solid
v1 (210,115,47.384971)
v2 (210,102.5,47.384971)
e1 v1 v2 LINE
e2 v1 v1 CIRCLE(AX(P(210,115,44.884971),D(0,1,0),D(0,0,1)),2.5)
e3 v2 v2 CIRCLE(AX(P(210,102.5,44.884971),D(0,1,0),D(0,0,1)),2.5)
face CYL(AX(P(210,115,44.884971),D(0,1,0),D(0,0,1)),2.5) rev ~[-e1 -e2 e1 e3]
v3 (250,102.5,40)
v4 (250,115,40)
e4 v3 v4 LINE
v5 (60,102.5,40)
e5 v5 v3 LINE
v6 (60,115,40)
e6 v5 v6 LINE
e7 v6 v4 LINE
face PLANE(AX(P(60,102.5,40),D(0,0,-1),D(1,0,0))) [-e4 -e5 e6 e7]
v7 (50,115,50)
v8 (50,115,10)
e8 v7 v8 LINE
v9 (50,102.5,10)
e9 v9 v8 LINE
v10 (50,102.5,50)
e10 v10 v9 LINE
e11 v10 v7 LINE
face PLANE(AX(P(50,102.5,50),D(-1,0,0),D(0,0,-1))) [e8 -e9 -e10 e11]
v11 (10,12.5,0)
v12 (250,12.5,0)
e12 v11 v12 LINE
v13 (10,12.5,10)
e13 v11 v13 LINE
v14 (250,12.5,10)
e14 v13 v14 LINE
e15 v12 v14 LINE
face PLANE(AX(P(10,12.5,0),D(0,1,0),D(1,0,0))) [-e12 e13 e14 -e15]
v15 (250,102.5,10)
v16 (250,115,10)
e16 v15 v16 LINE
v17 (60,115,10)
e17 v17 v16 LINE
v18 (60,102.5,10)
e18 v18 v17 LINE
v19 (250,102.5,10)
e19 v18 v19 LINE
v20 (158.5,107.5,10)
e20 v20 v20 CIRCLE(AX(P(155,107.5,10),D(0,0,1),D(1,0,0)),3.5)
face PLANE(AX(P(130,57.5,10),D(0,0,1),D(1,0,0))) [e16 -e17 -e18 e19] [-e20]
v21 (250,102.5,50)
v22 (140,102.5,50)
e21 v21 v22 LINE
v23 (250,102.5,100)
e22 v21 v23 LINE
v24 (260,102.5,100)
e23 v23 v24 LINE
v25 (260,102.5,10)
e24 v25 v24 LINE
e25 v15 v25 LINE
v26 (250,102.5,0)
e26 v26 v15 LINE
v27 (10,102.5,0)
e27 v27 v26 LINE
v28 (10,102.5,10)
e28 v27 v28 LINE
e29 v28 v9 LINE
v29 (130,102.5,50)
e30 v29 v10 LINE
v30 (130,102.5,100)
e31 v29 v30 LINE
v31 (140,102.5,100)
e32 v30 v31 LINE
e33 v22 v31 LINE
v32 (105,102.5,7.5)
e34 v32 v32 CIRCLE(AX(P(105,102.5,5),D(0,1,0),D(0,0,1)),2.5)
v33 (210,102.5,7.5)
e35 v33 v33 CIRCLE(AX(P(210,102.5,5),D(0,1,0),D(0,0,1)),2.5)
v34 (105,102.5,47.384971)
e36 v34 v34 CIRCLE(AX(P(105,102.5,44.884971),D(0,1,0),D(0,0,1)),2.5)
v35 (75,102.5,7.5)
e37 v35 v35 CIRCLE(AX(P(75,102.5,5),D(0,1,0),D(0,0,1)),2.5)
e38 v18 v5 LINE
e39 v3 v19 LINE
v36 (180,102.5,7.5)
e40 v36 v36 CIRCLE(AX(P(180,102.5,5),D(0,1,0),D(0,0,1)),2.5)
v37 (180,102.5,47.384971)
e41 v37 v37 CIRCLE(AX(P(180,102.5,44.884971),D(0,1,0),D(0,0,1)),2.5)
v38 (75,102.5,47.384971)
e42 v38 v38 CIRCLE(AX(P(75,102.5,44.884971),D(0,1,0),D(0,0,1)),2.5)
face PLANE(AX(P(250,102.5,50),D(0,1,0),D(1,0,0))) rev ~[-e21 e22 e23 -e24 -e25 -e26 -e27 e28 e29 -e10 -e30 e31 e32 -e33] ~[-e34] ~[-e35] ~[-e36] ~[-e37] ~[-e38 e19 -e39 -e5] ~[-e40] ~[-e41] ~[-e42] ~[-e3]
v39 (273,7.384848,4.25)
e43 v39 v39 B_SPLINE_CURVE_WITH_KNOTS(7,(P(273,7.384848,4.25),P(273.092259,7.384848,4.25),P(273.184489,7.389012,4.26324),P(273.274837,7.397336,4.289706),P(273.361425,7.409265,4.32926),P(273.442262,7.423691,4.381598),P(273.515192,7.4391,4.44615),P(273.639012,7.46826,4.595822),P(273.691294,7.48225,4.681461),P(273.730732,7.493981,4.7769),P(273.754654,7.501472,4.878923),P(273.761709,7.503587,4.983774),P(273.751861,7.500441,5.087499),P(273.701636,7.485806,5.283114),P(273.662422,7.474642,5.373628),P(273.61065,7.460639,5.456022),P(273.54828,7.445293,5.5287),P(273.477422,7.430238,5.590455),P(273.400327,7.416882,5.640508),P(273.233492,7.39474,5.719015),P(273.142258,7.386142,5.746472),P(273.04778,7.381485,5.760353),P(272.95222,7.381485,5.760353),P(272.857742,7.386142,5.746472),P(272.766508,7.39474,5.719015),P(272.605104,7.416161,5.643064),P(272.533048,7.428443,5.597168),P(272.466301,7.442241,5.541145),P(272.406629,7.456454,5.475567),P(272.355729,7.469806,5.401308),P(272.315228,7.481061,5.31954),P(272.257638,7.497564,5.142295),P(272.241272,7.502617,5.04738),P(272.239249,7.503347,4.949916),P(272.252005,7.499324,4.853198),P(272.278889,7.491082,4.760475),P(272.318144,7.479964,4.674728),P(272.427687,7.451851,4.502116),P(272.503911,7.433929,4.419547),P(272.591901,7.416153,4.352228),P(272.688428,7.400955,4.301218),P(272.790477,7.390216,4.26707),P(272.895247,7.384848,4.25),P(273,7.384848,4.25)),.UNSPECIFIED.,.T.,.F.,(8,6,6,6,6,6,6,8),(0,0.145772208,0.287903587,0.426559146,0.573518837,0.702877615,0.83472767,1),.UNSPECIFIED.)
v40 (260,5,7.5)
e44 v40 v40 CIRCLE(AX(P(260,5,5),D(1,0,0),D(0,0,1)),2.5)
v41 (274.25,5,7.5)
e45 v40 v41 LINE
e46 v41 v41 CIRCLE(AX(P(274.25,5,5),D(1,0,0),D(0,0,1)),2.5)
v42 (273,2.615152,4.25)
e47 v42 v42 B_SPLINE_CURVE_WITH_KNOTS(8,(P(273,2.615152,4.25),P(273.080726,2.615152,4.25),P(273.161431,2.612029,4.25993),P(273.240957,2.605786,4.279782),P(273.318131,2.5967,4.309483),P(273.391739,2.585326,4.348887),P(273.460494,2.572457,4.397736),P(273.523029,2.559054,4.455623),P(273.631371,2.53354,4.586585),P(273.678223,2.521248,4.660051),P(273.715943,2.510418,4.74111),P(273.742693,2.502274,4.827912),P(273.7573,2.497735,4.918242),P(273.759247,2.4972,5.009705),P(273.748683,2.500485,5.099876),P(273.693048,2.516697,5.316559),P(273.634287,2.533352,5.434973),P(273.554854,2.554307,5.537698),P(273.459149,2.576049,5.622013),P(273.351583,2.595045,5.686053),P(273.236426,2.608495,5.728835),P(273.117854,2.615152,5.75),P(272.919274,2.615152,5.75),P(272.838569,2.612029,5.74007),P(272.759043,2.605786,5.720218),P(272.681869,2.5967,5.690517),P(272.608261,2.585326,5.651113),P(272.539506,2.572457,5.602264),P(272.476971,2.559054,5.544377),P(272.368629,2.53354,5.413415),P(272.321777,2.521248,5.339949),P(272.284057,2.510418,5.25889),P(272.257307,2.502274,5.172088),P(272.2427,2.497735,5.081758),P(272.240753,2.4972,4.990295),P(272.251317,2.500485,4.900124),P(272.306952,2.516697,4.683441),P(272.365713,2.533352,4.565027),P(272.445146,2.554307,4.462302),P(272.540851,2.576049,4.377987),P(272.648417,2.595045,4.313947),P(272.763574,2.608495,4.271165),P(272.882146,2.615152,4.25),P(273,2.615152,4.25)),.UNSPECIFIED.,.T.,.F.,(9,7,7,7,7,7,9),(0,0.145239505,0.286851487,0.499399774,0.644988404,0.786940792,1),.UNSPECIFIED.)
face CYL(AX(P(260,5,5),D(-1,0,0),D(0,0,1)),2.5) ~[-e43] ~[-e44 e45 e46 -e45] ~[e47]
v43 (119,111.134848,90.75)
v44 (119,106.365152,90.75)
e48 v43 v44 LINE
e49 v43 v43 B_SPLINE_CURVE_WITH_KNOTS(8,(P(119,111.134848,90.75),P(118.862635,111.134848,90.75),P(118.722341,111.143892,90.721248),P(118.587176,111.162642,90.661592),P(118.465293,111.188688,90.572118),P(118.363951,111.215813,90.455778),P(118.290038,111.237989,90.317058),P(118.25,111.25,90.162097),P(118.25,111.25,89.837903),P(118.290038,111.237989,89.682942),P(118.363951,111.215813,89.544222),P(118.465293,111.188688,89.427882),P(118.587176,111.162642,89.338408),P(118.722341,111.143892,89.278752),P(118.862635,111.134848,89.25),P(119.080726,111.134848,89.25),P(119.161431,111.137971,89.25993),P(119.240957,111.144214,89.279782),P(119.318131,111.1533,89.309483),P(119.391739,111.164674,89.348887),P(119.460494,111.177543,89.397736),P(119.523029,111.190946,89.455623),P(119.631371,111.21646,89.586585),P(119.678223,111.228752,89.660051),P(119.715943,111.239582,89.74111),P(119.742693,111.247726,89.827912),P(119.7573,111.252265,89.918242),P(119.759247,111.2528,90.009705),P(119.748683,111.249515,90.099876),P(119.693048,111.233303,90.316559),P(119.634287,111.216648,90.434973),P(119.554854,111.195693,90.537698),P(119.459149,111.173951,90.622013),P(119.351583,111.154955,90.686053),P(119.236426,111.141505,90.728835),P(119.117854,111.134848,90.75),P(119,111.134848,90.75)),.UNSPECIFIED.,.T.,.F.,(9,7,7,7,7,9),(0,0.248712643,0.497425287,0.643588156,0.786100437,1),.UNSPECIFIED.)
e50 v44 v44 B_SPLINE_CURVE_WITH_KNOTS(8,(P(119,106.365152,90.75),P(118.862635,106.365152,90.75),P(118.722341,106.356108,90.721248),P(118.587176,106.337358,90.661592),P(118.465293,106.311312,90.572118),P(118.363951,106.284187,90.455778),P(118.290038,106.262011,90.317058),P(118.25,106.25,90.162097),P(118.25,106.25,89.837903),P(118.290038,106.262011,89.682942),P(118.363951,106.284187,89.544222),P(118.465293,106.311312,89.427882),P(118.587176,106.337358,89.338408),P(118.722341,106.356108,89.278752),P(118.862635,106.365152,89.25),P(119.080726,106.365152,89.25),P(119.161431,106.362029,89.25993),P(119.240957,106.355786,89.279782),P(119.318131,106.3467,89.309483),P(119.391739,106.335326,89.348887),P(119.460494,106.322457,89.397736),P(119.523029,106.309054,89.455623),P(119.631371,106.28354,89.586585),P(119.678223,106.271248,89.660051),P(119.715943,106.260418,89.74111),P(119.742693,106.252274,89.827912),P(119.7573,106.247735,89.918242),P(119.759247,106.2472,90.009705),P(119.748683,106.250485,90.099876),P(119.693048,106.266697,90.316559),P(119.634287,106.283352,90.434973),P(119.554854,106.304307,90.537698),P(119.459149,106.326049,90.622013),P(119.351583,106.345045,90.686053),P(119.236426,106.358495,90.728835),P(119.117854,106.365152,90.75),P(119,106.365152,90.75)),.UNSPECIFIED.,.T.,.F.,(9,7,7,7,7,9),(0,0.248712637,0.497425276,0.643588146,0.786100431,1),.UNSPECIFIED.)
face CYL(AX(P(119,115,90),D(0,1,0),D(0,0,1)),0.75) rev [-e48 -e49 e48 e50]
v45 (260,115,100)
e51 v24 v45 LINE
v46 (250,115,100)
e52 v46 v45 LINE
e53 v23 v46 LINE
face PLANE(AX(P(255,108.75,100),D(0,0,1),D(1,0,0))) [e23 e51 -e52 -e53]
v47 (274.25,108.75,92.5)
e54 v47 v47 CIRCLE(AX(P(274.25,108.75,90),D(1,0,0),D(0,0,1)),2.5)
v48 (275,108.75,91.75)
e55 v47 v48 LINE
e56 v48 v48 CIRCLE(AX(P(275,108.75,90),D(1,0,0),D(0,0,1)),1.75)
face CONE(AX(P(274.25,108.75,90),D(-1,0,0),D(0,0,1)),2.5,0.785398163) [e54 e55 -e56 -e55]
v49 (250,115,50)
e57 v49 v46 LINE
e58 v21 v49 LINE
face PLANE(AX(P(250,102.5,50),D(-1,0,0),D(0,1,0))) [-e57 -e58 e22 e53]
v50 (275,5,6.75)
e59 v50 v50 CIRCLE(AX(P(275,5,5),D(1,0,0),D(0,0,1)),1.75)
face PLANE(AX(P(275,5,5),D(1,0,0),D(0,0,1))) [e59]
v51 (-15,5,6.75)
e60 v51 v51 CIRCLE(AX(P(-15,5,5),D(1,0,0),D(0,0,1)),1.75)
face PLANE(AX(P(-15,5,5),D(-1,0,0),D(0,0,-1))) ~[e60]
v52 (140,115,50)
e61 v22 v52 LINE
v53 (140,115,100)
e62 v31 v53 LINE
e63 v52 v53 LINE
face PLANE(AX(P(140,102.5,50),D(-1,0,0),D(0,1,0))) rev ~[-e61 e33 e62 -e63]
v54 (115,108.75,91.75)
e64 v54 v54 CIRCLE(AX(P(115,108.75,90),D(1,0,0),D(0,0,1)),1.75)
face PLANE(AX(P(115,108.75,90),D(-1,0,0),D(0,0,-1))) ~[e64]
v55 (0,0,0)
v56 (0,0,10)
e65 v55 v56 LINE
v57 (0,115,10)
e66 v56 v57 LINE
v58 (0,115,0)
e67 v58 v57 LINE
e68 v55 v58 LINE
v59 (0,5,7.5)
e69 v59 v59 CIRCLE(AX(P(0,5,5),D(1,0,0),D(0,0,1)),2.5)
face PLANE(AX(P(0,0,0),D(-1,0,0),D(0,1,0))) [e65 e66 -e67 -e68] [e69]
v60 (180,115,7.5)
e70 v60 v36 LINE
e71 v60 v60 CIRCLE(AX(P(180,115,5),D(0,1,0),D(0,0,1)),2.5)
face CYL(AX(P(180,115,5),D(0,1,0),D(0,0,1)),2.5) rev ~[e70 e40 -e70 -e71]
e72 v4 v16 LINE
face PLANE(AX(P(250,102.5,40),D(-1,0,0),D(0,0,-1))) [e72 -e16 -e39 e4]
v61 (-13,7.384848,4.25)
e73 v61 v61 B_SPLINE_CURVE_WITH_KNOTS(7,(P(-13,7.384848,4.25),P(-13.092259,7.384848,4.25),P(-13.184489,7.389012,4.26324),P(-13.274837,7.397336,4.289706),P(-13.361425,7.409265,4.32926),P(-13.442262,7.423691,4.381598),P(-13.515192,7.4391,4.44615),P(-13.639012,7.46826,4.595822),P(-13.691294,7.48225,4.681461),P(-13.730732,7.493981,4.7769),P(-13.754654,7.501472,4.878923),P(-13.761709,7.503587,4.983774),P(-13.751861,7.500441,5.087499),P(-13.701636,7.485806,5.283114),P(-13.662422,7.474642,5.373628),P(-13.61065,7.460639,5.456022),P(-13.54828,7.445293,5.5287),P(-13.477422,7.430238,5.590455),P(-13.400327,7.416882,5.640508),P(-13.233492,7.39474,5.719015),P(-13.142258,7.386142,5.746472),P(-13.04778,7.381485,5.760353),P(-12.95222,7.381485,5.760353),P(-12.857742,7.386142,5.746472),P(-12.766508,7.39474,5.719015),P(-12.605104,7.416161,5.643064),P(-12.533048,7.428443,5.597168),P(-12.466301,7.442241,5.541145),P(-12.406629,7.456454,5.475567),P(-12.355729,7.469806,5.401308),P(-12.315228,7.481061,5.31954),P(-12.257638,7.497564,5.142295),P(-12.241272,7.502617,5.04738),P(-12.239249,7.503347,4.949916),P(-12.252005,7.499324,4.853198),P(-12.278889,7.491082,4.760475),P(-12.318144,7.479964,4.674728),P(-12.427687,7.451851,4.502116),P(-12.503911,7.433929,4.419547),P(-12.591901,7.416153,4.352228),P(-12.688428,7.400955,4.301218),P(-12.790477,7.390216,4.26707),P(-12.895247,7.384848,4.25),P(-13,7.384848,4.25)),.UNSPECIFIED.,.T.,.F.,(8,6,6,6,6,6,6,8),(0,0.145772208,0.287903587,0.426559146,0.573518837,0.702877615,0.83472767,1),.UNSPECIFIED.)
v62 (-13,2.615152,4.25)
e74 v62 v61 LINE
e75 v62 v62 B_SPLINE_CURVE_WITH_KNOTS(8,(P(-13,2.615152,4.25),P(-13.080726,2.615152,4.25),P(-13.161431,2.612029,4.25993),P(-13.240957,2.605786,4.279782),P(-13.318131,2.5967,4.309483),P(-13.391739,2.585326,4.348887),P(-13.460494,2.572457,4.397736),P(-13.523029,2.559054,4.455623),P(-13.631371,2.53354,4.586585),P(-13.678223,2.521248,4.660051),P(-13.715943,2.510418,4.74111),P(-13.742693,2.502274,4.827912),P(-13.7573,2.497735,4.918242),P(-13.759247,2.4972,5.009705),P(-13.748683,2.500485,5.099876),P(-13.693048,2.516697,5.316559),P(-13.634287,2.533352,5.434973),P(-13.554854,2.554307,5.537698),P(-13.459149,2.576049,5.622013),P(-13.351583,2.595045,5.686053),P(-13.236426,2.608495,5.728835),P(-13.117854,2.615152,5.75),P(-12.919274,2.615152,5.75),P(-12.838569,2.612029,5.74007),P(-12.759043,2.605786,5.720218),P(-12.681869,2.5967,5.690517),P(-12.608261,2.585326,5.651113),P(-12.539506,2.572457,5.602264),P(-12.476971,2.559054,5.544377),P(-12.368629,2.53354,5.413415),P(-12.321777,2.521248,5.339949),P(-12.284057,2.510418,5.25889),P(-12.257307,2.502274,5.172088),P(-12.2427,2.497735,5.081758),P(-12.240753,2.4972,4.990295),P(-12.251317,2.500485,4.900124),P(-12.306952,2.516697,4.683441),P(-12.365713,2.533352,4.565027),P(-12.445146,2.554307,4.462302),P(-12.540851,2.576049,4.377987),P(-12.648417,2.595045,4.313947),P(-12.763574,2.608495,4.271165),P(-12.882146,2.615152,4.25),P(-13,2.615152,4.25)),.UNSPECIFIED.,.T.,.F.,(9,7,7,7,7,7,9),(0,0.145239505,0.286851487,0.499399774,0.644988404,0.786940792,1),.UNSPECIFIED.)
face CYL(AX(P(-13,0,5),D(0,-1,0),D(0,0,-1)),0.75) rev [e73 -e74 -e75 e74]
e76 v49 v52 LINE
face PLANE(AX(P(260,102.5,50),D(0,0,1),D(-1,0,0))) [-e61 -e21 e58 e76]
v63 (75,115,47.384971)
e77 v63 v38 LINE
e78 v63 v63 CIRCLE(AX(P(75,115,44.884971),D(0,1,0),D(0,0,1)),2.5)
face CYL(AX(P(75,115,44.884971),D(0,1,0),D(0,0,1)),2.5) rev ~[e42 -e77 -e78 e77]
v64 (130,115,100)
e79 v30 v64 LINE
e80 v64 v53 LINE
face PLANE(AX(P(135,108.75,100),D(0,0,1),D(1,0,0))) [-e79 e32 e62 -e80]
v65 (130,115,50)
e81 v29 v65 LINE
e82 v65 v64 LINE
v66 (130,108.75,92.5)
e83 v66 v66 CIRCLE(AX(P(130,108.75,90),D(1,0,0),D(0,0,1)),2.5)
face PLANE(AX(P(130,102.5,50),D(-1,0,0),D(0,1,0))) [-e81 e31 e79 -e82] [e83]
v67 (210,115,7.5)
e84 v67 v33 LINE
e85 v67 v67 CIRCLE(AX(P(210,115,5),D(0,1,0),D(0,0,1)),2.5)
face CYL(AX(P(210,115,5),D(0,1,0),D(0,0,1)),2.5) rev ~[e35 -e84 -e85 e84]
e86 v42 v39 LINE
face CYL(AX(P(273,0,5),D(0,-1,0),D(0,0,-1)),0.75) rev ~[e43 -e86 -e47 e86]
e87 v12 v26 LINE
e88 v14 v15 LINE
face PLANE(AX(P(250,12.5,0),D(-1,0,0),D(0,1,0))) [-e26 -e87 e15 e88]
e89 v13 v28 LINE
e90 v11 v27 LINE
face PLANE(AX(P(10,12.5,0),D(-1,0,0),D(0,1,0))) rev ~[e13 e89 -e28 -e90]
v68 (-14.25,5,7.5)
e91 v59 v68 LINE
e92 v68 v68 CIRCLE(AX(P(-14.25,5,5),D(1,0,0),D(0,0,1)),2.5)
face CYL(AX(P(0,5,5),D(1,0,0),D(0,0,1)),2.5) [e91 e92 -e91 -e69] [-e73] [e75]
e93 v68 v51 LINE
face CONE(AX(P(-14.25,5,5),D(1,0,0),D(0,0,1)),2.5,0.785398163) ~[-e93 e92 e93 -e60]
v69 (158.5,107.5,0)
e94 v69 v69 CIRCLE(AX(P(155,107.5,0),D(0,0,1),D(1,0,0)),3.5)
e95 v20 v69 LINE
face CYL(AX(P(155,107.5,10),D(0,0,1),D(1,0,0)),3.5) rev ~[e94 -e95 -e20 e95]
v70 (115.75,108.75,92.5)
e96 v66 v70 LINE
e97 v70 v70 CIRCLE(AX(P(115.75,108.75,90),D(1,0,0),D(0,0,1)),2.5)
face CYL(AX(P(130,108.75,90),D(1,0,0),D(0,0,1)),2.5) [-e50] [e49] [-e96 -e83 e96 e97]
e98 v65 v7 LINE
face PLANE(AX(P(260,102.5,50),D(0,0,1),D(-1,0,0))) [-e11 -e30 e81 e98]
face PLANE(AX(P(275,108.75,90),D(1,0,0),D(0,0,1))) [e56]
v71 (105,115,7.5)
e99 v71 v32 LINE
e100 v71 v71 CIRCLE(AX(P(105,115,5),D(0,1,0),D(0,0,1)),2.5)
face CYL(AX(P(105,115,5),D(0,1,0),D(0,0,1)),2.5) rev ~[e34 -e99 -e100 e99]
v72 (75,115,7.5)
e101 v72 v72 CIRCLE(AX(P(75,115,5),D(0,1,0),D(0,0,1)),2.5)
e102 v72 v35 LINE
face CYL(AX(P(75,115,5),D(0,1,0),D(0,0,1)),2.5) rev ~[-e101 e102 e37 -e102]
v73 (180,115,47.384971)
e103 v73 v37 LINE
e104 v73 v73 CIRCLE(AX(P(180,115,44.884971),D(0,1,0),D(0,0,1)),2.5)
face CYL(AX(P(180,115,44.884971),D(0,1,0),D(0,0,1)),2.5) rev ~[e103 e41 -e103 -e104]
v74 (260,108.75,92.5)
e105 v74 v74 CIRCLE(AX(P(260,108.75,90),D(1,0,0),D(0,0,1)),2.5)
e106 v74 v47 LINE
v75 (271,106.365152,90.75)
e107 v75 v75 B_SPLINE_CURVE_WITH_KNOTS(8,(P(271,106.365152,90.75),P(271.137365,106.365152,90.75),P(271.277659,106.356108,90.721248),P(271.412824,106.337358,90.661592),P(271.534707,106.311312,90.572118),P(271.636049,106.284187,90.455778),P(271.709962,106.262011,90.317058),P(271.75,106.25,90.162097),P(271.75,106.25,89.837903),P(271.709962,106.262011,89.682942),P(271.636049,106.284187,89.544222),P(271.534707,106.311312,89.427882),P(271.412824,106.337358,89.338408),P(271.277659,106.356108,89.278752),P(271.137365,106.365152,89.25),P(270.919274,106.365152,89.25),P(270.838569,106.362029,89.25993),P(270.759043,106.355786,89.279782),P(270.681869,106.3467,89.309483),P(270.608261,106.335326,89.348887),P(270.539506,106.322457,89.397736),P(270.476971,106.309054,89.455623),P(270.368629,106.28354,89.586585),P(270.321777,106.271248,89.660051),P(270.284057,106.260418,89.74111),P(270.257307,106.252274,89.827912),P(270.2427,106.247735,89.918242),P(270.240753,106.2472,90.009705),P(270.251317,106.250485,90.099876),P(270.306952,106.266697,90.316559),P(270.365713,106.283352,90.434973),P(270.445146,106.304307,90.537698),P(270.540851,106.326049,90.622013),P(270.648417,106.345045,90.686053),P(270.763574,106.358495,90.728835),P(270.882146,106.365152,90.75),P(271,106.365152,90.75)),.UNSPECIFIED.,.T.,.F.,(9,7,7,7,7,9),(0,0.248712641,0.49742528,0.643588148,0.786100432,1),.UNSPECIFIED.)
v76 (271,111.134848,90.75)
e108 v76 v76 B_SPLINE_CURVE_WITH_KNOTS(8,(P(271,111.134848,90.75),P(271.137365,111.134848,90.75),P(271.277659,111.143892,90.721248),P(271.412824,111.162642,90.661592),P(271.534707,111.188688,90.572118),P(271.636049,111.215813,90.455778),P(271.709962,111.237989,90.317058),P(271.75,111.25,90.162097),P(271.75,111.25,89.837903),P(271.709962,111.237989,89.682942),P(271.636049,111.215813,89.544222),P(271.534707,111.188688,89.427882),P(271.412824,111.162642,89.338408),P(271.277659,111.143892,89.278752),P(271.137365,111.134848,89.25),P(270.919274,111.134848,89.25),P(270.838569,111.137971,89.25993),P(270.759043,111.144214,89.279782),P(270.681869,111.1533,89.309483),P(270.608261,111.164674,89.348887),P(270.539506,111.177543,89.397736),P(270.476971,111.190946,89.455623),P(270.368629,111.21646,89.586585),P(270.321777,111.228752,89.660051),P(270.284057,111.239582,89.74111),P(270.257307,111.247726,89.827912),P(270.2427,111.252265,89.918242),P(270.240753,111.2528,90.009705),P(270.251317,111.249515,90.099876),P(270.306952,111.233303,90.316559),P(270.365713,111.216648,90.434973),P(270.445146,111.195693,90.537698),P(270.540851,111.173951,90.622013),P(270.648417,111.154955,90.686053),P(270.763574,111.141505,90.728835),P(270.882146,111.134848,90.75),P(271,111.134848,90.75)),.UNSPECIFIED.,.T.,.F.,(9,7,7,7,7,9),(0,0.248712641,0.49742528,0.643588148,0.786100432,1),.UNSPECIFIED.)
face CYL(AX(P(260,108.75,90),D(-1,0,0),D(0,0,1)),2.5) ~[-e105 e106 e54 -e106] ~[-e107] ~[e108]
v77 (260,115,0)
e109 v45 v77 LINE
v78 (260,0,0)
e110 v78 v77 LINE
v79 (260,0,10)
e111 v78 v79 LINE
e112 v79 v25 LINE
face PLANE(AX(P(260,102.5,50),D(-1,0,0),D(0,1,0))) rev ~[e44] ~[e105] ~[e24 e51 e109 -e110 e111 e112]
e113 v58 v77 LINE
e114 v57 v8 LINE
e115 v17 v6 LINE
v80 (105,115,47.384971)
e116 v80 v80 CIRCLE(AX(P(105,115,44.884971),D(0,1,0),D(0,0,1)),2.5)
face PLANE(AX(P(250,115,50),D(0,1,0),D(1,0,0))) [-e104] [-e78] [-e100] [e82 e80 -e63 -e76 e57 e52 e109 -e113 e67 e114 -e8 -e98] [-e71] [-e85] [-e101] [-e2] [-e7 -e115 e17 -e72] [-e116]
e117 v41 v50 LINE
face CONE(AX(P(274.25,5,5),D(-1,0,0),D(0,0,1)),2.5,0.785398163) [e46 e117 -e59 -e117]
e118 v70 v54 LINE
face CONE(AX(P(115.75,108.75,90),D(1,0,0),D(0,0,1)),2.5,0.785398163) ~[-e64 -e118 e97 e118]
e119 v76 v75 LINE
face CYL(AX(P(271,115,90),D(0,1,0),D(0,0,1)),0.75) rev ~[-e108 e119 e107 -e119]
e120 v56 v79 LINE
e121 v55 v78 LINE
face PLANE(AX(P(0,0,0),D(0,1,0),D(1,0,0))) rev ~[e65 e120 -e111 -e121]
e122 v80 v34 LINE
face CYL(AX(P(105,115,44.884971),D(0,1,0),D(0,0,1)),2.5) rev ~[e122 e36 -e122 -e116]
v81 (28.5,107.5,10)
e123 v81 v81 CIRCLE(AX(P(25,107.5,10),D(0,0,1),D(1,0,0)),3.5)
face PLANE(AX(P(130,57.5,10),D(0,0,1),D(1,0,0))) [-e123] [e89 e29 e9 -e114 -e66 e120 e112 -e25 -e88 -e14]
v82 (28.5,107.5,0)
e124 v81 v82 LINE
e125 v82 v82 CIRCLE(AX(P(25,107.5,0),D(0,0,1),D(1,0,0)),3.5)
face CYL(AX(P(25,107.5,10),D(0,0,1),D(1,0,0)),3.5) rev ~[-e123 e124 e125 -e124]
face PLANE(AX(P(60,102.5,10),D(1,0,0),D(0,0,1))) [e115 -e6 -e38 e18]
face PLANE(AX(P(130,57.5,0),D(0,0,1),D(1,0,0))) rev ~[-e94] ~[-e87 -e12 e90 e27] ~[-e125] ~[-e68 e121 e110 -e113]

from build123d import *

# Parameters (mm, degrees)
IZIM1_W                     = 260
IZIM1_H                     = 115
IZIM1_W_2                   = 240
IZIM1_H_2                   = 90
Y_KSEKLIK_EKSTR_ZYON1_DEPTH = 10
Y_KSEKLIK_EKSTR_ZYON2_START = -12.5
Y_KSEKLIK_EKSTR_ZYON2_DEPTH = 12.5
IZIM3_W                     = 10
IZIM3_H                     = 12.5
Y_KSEKLIK_EKSTR_ZYON3_DEPTH = 50
IZIM4_R                     = 2.5
Y_KSEKLIK_EKSTR_ZYON4_DEPTH = 15
IZIM5_R                     = 0.75
KES_EKSTR_ZYON1_DEPTH       = 15
PAH1_SIZE                   = 0.75
IZIM6_R                     = 2.5
Y_KSEKLIK_EKSTR_ZYON5_DEPTH = 15
IZIM7_R                     = 0.75
KES_EKSTR_ZYON2_DEPTH       = 15
PAH2_SIZE                   = 0.75
PAH3_SIZE                   = 0.75
IZIM8_R                     = 2.5
KES_EKSTR_ZYON3_DEPTH       = 15
IZIM9_R                     = 3.5
KES_EKSTR_ZYON4_DEPTH       = 15


with BuildPart() as part:
    # Çizim1 → Yükseklik-Ekstrüzyon1 (new body)
    with BuildSketch(Plane.XY):
        with Locations((130, 57.5)):
            Rectangle(IZIM1_W, IZIM1_H)
        with Locations((130, 57.5)):
            Rectangle(IZIM1_W_2, IZIM1_H_2, mode=Mode.SUBTRACT)
    extrude(amount=Y_KSEKLIK_EKSTR_ZYON1_DEPTH)

    # Çizim2 → Yükseklik-Ekstrüzyon2 (add)
    with BuildSketch(Plane(origin=(0, 115, 0), x_dir=(1, 0, 0), z_dir=(0, 1, 0)).offset(Y_KSEKLIK_EKSTR_ZYON2_START)):
        Polygon((260, -10), (260, -50), (50, -50), (50, -10), (60, -10), (60, -40), (250, -40), (250, -10), align=None)
    extrude(amount=Y_KSEKLIK_EKSTR_ZYON2_DEPTH)

    # Çizim3 → Yükseklik-Ekstrüzyon3 (add)
    with BuildSketch(Plane.XY.offset(50)):
        with Locations((255, 108.75)):
            Rectangle(IZIM3_W, IZIM3_H)
        with Locations((135, 108.75)):
            Rectangle(IZIM3_W, IZIM3_H)
    extrude(amount=Y_KSEKLIK_EKSTR_ZYON3_DEPTH)

    # Çizim4 → Yükseklik-Ekstrüzyon4 (add)
    with BuildSketch(Plane(origin=(260, 0, 0), x_dir=(0, 0, -1), z_dir=(1, 0, 0))):
        with Locations(Location((-90, 108.75, 0), (0, 0, 180))):
            Circle(IZIM4_R)
    y_kseklik_ekstr_zyon4 = extrude(amount=Y_KSEKLIK_EKSTR_ZYON4_DEPTH)

    # Çizim5 → Kes-Ekstrüzyon1 (cut)
    with BuildSketch(Plane(origin=(0, 115, 0), x_dir=(1, 0, 0), z_dir=(0, 1, 0))):
        with Locations(Location((271, -90, 0), (0, 0, 270))):
            Circle(IZIM5_R)
    kes_ekstr_zyon1 = extrude(amount=-KES_EKSTR_ZYON1_DEPTH, mode=Mode.SUBTRACT)

    # Aynalama1: Yükseklik-Ekstrüzyon4, Kes-Ekstrüzyon1 across plane
    add(y_kseklik_ekstr_zyon4.mirror(Plane(origin=(195, 0, 0), x_dir=(0, 0, 1), z_dir=(1, 0, 0))))
    add(kes_ekstr_zyon1.mirror(Plane(origin=(195, 0, 0), x_dir=(0, 0, 1), z_dir=(1, 0, 0))), mode=Mode.SUBTRACT)

    # Pah1
    pah1_edges = [part.edges().sort_by_distance(p)[0] for p in [
        (275, 108.75, 87.5),
        (115, 108.75, 87.5),
    ]]
    chamfer(pah1_edges, length=PAH1_SIZE)

    # Çizim6 → Yükseklik-Ekstrüzyon5 (add)
    with BuildSketch(Plane(origin=(260, 0, 0), x_dir=(0, 0, -1), z_dir=(1, 0, 0))):
        with Locations(Location((-5, 5, 0), (0, 0, 180))):
            Circle(IZIM6_R)
    y_kseklik_ekstr_zyon5 = extrude(amount=Y_KSEKLIK_EKSTR_ZYON5_DEPTH)

    # Çizim7 → Kes-Ekstrüzyon2 (cut)
    with BuildSketch(Plane.XZ):
        with Locations(Location((273, 5, 0), (0, 0, 270))):
            Circle(IZIM7_R)
    kes_ekstr_zyon2 = extrude(amount=-KES_EKSTR_ZYON2_DEPTH, mode=Mode.SUBTRACT)

    # Pah2
    pah2_edges = [part.edges().sort_by_distance(p)[0] for p in [
        (275, 5, 2.5),
    ]]
    chamfer(pah2_edges, length=PAH2_SIZE)

    # Aynalama5: Yükseklik-Ekstrüzyon5, Kes-Ekstrüzyon2 across plane
    add(y_kseklik_ekstr_zyon5.mirror(Plane(origin=(130, 0, 0), x_dir=(0, 0, 1), z_dir=(1, 0, 0))))
    add(kes_ekstr_zyon2.mirror(Plane(origin=(130, 0, 0), x_dir=(0, 0, 1), z_dir=(1, 0, 0))), mode=Mode.SUBTRACT)

    # Pah3
    pah3_edges = [part.edges().sort_by_distance(p)[0] for p in [
        (-15, 5, 2.5),
    ]]
    chamfer(pah3_edges, length=PAH3_SIZE)

    # Çizim8 → Kes-Ekstrüzyon3 (cut)
    with BuildSketch(Plane(origin=(0, 115, 0), x_dir=(1, 0, 0), z_dir=(0, 1, 0))):
        with Locations(Location((210, -5, 0), (0, 0, 270))):
            Circle(IZIM8_R)
        with Locations(Location((180, -5, 0), (0, 0, 270))):
            Circle(IZIM8_R)
        with Locations(Location((105, -5, 0), (0, 0, 270))):
            Circle(IZIM8_R)
        with Locations(Location((75, -5, 0), (0, 0, 270))):
            Circle(IZIM8_R)
        with Locations(Location((75, -44.884971075, 0), (0, 0, 270))):
            Circle(IZIM8_R)
        with Locations(Location((105, -44.884971075, 0), (0, 0, 270))):
            Circle(IZIM8_R)
        with Locations(Location((180, -44.884971075, 0), (0, 0, 270))):
            Circle(IZIM8_R)
        with Locations(Location((210, -44.884971075, 0), (0, 0, 270))):
            Circle(IZIM8_R)
    extrude(amount=-KES_EKSTR_ZYON3_DEPTH, mode=Mode.SUBTRACT)

    # Çizim9 → Kes-Ekstrüzyon4 (cut)
    with BuildSketch(Plane.XY.offset(10)):
        with Locations((155, 107.5)):
            Circle(IZIM9_R)
        with Locations((25, 107.5)):
            Circle(IZIM9_R)
    extrude(amount=-KES_EKSTR_ZYON4_DEPTH, mode=Mode.SUBTRACT)


solid = part.part
